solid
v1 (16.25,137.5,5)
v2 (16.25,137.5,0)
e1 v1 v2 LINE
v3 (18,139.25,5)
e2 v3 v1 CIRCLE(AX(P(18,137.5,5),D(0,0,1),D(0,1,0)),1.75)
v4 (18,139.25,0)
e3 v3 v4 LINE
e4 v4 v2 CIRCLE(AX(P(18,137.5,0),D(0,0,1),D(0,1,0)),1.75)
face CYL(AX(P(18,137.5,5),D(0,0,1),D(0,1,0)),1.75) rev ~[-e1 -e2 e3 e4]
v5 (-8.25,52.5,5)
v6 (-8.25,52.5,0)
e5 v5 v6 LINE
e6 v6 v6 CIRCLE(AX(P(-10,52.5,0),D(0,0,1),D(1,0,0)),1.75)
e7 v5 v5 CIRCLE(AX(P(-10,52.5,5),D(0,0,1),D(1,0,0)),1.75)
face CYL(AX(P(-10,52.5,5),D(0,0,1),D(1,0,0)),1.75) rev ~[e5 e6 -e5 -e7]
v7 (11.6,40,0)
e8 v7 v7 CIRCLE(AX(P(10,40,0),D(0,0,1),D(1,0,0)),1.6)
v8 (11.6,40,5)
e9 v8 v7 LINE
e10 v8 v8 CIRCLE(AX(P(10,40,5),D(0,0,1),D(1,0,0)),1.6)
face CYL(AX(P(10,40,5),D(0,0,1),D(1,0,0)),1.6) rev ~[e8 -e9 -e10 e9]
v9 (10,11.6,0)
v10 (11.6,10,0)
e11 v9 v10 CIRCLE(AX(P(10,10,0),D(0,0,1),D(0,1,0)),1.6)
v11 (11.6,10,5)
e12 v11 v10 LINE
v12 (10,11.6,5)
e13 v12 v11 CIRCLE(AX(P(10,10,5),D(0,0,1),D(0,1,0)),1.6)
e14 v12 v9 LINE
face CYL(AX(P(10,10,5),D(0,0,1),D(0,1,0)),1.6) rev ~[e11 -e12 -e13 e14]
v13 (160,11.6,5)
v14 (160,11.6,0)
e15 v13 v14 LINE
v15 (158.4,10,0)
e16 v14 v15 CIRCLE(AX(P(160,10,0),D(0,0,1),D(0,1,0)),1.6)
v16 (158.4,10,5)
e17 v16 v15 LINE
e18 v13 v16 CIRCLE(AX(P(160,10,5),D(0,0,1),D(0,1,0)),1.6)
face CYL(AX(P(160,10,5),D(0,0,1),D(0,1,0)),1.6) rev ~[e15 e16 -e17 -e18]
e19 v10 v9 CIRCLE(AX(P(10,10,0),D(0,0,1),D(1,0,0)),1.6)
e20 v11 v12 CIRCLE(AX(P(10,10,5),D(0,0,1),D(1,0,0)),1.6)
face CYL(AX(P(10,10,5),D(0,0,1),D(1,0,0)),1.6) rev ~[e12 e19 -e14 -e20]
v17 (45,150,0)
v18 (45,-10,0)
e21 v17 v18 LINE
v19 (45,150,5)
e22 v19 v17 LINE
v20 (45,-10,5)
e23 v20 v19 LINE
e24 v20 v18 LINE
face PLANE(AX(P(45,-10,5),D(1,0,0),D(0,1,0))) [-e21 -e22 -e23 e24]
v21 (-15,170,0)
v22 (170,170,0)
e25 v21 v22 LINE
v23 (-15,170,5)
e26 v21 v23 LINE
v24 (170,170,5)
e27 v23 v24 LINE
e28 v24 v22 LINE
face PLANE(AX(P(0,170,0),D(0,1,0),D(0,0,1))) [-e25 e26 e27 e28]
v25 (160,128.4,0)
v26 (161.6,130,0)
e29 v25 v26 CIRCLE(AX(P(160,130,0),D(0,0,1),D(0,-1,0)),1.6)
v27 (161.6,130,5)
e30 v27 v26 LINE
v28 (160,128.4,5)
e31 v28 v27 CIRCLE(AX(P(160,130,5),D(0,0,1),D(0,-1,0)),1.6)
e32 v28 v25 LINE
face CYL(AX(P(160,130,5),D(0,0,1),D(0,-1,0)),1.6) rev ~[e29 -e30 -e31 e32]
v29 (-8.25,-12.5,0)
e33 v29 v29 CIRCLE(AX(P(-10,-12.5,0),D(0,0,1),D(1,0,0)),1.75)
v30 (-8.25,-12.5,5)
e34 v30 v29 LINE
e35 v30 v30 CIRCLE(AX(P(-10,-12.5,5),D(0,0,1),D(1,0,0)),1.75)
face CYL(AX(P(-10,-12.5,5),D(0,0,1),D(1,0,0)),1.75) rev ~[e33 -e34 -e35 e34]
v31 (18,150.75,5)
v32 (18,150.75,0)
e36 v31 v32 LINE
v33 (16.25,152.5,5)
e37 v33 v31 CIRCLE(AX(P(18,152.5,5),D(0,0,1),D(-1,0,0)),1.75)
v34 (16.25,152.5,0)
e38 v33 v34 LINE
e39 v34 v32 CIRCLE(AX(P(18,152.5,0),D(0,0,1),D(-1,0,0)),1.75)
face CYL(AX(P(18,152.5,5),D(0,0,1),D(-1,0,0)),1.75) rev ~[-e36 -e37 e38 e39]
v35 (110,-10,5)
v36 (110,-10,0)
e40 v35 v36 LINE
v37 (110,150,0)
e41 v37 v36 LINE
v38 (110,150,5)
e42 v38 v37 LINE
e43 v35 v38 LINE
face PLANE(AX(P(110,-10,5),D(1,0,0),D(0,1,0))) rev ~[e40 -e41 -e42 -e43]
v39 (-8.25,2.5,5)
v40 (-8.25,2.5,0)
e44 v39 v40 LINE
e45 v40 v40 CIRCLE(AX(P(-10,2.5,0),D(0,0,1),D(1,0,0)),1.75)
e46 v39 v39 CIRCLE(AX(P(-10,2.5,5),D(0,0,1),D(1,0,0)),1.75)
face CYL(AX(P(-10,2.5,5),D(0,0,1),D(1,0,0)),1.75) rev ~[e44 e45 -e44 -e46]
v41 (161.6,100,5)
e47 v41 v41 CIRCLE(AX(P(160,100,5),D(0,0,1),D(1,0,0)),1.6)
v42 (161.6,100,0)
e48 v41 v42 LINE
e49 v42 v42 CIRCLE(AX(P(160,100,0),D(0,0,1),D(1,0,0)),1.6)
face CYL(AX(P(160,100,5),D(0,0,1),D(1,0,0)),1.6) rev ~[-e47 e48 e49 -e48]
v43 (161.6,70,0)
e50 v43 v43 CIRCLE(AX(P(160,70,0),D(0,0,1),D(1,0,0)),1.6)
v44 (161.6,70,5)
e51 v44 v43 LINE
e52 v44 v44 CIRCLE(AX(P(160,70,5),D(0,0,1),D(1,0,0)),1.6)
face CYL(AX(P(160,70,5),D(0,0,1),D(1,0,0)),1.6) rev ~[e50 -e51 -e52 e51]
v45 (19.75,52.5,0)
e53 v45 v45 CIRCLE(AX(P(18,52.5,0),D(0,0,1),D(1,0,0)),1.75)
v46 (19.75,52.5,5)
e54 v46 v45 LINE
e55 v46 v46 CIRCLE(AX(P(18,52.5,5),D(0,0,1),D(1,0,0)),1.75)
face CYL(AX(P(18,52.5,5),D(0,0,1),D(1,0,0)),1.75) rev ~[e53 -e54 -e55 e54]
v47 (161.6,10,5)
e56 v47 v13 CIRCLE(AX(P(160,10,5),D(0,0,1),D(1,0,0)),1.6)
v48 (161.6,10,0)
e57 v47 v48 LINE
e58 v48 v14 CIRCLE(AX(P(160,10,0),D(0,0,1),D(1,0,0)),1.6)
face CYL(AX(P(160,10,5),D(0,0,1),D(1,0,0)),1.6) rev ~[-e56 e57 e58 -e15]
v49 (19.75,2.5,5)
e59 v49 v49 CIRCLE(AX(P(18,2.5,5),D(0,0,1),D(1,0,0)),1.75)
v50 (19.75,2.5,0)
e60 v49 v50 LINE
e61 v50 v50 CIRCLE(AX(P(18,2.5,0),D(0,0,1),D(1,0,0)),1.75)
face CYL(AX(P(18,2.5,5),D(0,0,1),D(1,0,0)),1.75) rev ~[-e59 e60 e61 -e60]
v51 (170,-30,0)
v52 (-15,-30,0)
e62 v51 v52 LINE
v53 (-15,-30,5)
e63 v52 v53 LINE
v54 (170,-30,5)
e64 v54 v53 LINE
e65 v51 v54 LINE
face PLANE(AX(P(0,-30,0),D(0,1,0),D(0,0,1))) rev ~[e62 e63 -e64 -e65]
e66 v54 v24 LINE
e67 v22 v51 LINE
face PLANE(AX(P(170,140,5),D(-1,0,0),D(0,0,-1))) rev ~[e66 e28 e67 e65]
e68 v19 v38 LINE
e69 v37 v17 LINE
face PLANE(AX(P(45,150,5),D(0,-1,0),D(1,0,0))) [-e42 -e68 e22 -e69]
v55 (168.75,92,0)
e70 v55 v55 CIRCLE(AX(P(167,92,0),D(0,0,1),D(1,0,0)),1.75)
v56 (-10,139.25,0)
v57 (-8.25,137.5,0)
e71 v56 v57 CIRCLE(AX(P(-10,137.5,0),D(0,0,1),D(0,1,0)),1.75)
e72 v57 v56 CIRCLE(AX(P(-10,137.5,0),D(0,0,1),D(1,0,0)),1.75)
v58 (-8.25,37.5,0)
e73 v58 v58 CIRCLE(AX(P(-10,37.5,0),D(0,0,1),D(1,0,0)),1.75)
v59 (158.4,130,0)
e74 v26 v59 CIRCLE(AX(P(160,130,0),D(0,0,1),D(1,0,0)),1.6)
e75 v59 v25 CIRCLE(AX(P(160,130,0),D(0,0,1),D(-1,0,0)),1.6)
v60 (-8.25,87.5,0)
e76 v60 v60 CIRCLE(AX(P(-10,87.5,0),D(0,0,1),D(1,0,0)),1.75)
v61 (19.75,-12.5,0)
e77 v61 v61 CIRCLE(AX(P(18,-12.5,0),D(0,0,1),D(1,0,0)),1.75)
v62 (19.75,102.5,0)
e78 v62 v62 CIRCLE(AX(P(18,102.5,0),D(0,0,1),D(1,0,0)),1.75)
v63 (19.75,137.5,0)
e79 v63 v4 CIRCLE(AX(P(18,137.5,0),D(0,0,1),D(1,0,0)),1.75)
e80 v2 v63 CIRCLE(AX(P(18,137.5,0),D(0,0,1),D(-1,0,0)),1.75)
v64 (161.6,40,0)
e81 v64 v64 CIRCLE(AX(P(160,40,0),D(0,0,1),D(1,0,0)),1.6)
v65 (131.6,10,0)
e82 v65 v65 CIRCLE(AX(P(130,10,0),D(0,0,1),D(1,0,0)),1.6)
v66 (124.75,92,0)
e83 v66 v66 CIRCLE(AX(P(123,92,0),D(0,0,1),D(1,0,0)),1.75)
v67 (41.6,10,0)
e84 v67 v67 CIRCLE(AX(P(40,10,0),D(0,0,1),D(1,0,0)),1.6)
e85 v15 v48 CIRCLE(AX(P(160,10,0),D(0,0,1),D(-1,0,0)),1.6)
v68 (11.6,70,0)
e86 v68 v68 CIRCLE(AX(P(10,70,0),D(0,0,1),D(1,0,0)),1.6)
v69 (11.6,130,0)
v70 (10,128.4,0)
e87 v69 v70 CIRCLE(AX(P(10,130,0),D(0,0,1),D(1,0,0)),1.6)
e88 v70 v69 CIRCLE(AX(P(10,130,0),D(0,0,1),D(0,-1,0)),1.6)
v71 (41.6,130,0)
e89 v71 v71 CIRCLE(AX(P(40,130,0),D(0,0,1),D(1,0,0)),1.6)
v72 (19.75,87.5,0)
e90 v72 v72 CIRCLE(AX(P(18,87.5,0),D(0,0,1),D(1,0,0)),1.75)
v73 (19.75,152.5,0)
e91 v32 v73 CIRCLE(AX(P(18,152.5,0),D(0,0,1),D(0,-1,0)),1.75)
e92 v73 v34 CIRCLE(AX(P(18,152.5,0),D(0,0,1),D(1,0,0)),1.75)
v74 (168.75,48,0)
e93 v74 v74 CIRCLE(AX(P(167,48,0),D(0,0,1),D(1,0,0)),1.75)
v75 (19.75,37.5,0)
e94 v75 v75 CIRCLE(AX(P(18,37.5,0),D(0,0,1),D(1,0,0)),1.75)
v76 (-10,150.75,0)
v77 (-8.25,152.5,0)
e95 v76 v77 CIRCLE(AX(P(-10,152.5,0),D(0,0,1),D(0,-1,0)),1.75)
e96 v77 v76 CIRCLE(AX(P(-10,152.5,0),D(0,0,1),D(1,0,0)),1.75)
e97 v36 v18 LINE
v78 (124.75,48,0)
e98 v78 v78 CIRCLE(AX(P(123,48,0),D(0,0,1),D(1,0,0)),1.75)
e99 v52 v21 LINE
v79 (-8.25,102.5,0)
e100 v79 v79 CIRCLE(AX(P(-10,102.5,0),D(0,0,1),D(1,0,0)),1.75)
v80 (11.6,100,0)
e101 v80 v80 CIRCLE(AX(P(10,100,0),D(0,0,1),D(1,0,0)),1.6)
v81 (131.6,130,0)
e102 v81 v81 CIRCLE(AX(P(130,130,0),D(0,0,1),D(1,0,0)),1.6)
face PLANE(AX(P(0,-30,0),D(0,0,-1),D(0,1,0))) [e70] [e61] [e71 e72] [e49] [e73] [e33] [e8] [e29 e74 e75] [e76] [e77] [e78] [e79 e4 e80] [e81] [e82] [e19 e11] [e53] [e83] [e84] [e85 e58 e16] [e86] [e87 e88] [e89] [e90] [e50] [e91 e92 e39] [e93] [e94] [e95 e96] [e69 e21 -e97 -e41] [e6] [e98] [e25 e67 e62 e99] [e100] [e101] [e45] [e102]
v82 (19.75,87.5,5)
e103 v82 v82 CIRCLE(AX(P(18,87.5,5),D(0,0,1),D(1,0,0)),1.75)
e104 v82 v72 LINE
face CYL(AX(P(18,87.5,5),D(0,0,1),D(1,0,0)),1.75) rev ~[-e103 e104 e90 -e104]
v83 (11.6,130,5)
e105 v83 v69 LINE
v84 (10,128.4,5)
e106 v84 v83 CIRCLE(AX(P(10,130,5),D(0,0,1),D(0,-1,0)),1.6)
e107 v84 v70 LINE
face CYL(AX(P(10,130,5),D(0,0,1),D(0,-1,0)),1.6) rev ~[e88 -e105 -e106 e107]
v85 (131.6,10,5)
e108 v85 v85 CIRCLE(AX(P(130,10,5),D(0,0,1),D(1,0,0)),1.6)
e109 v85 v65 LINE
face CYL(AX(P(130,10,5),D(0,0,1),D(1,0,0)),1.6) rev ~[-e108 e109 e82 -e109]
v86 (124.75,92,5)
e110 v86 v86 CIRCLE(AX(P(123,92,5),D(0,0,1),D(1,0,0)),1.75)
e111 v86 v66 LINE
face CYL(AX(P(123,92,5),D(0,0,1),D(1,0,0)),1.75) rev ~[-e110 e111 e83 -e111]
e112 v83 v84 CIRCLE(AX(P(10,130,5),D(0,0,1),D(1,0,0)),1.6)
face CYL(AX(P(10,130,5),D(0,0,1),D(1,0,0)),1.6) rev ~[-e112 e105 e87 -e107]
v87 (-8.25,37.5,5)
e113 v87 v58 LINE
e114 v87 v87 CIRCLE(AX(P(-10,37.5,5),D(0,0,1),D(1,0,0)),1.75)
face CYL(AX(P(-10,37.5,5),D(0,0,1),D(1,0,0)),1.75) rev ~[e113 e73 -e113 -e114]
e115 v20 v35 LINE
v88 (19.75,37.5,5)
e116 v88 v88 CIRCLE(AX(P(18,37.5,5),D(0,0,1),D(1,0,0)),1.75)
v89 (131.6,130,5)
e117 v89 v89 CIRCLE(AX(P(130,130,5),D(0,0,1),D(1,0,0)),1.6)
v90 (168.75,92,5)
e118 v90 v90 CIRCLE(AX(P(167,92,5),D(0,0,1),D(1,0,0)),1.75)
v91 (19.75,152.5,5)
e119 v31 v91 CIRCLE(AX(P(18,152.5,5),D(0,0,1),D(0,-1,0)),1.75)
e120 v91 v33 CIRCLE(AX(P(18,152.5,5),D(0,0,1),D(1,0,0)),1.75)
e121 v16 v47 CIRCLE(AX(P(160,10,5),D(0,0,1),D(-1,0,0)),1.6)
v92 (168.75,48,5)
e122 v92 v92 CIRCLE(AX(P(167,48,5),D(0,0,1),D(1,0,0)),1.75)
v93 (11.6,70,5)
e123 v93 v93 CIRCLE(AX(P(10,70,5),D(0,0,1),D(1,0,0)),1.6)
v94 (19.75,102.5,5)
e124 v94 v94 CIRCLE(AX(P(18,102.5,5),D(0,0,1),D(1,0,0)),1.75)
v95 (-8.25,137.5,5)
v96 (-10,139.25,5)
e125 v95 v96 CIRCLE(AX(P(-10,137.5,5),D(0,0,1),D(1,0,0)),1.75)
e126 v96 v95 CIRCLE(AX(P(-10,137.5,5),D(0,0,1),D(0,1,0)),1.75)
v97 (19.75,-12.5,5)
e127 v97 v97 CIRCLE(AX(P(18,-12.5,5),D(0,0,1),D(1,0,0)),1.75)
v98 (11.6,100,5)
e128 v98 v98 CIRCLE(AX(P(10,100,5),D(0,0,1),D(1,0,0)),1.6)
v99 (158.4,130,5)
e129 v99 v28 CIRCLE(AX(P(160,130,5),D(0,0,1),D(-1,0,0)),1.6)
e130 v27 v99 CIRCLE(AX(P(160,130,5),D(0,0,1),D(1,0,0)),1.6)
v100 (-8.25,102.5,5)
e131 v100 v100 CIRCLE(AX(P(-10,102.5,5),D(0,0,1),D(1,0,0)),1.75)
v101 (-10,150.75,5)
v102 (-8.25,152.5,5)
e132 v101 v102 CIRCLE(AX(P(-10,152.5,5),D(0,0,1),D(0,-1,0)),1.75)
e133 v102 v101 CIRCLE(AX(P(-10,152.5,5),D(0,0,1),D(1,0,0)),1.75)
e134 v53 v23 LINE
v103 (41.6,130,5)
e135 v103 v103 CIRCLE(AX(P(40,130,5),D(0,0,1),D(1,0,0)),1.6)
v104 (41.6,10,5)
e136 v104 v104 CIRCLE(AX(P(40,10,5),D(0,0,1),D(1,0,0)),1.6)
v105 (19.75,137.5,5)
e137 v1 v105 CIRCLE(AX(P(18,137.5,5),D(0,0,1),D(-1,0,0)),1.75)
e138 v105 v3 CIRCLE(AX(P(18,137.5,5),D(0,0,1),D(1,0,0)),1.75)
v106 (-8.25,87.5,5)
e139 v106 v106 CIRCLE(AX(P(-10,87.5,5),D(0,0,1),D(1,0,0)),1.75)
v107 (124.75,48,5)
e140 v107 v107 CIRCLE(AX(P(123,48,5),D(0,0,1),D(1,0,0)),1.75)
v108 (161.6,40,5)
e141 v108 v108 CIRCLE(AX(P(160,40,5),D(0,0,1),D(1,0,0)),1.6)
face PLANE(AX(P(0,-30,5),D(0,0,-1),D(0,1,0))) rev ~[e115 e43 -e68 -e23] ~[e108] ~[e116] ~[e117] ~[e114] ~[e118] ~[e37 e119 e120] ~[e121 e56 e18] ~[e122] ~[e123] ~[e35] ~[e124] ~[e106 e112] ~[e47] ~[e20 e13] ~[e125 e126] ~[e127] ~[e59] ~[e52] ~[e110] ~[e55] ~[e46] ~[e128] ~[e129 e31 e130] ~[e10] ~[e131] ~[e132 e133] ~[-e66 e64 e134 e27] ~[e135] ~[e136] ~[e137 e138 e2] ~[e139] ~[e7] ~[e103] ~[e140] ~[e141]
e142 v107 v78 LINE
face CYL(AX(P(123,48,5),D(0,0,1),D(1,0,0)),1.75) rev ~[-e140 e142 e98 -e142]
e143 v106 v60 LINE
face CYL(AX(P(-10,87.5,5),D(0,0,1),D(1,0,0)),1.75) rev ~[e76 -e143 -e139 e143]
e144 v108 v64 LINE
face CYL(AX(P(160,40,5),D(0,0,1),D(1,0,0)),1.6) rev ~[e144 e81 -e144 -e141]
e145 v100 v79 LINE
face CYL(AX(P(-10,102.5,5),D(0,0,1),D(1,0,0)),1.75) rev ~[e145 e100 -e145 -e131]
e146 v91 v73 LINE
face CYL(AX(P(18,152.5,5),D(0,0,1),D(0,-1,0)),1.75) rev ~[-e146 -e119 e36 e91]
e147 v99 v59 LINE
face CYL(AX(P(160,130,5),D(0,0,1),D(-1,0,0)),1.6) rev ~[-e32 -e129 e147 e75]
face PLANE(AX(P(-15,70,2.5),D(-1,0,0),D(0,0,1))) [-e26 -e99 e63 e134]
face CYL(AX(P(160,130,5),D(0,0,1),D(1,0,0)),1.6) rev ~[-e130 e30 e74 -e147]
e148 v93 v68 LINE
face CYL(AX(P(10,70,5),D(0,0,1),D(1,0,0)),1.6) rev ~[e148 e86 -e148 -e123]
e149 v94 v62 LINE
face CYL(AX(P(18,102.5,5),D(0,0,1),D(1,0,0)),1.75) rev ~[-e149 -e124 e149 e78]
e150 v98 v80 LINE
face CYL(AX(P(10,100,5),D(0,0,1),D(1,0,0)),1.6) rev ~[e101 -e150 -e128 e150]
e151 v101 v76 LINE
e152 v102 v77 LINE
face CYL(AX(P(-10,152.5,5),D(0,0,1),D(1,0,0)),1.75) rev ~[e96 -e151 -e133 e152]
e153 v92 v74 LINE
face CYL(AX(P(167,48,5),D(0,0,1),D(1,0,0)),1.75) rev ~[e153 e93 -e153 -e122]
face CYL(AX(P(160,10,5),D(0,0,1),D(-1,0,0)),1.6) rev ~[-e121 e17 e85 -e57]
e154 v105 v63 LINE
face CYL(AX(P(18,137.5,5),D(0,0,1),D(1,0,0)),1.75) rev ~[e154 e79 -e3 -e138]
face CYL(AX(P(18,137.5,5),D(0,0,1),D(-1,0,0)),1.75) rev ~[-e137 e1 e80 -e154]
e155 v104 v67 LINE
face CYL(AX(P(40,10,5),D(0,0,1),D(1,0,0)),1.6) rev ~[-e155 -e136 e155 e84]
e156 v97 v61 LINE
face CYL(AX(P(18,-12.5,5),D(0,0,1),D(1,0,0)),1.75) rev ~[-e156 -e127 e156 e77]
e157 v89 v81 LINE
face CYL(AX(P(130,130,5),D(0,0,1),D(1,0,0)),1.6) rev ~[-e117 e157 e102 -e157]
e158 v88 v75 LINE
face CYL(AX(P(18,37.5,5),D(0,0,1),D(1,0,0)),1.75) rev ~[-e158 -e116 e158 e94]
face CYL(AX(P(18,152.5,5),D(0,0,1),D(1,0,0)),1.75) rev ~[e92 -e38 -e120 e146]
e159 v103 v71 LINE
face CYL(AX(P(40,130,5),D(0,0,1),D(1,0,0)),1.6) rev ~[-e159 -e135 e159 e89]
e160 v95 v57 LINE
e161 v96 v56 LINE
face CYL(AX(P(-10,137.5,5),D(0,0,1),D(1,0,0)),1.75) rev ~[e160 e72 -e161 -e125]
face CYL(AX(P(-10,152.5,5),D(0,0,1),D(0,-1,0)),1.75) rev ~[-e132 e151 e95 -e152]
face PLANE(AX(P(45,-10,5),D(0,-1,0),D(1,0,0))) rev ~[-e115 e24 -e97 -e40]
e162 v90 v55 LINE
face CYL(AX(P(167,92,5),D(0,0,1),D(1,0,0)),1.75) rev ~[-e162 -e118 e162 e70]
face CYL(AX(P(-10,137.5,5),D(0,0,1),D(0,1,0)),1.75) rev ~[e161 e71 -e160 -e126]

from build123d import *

# Parameters (mm, degrees)
SKETCH_1_W          = 170
SKETCH_1_H          = 140
EXTRUDE_1_DEPTH     = 5
CUT_EXTRUDE_1_DEPTH = 5
SKETCH_4_R          = 1.6
CUT_EXTRUDE_2_DEPTH = 5
SKETCH_9_W          = 170
SKETCH_9_H          = 5
EXTRUDE_2_DEPTH     = 30
SKETCH_10_W         = 170
SKETCH_10_H         = 5
EXTRUDE_3_DEPTH     = 30
SKETCH_8_W          = 65
SKETCH_8_H          = 160
CUT_EXTRUDE_5_DEPTH = 30
SKETCH_6_R          = 1.75
CUT_EXTRUDE_6_DEPTH = 30
SKETCH_13_W         = 5
SKETCH_13_H         = 200
EXTRUDE_4_DEPTH     = 15
SKETCH_14_R         = 1.75
CUT_EXTRUDE_7_DEPTH = 15


with BuildPart() as part:
    # 草图1 → 凸台-拉伸1 (new body)
    with BuildSketch(Plane.XY):
        with Locations((85, 70)):
            Rectangle(SKETCH_1_W, SKETCH_1_H)
    extrude(amount=EXTRUDE_1_DEPTH)

    # 草图3 → 切除-拉伸1 (cut)
    with BuildSketch(Plane.XY.offset(5)):
        with BuildLine():
            ThreePointArc((10, 128.4), (11.13137085, 128.86862915), (11.6, 130))
            Line((11.6, 130), (10, 130))
            Line((10, 130), (10, 128.4))
        make_face()
        with BuildLine():
            Line((10, 130), (11.6, 130))
            ThreePointArc((11.6, 130), (8.86862915, 131.13137085), (10, 128.4))
            Line((10, 128.4), (10, 130))
        make_face()
        with BuildLine():
            ThreePointArc((10, 128.4), (11.13137085, 128.86862915), (11.6, 130))
            Line((11.6, 130), (10, 130))
            Line((10, 130), (10, 128.4))
        make_face()
        with BuildLine():
            Line((10, 130), (11.6, 130))
            ThreePointArc((11.6, 130), (8.86862915, 131.13137085), (10, 128.4))
            Line((10, 128.4), (10, 130))
        make_face()
        with BuildLine():
            ThreePointArc((11.6, 10), (11.13137085, 11.13137085), (10, 11.6))
            Line((10, 11.6), (10, 10))
            Line((10, 10), (11.6, 10))
        make_face()
        with BuildLine():
            Line((10, 10), (10, 11.6))
            ThreePointArc((10, 11.6), (8.86862915, 8.86862915), (11.6, 10))
            Line((11.6, 10), (10, 10))
        make_face()
        with BuildLine():
            ThreePointArc((11.6, 10), (11.13137085, 11.13137085), (10, 11.6))
            Line((10, 11.6), (10, 10))
            Line((10, 10), (11.6, 10))
        make_face()
        with BuildLine():
            Line((10, 10), (10, 11.6))
            ThreePointArc((10, 11.6), (8.86862915, 8.86862915), (11.6, 10))
            Line((11.6, 10), (10, 10))
        make_face()
        with BuildLine():
            ThreePointArc((161.6, 10), (161.13137085, 11.13137085), (160, 11.6))
            Line((160, 11.6), (160, 10))
            Line((160, 10), (158.4, 10))
            ThreePointArc((158.4, 10), (160, 8.4), (161.6, 10))
        make_face()
        with BuildLine():
            Line((160, 10), (160, 11.6))
            ThreePointArc((160, 11.6), (158.86862915, 11.13137085), (158.4, 10))
            Line((158.4, 10), (160, 10))
        make_face()
        with BuildLine():
            ThreePointArc((161.6, 10), (161.13137085, 11.13137085), (160, 11.6))
            Line((160, 11.6), (160, 10))
            Line((160, 10), (158.4, 10))
            ThreePointArc((158.4, 10), (160, 8.4), (161.6, 10))
        make_face()
        with BuildLine():
            Line((160, 10), (160, 11.6))
            ThreePointArc((160, 11.6), (158.86862915, 11.13137085), (158.4, 10))
            Line((158.4, 10), (160, 10))
        make_face()
        with BuildLine():
            ThreePointArc((161.6, 130), (160, 131.6), (158.4, 130))
            Line((158.4, 130), (160, 130))
            Line((160, 130), (160, 128.4))
            ThreePointArc((160, 128.4), (161.13137085, 128.86862915), (161.6, 130))
        make_face()
        with BuildLine():
            Line((160, 130), (158.4, 130))
            ThreePointArc((158.4, 130), (158.86862915, 128.86862915), (160, 128.4))
            Line((160, 128.4), (160, 130))
        make_face()
        with BuildLine():
            ThreePointArc((161.6, 130), (160, 131.6), (158.4, 130))
            Line((158.4, 130), (160, 130))
            Line((160, 130), (160, 128.4))
            ThreePointArc((160, 128.4), (161.13137085, 128.86862915), (161.6, 130))
        make_face()
        with BuildLine():
            Line((160, 130), (158.4, 130))
            ThreePointArc((158.4, 130), (158.86862915, 128.86862915), (160, 128.4))
            Line((160, 128.4), (160, 130))
        make_face()
    extrude(amount=-CUT_EXTRUDE_1_DEPTH, mode=Mode.SUBTRACT)

    # 草图4 → 切除-拉伸2 (cut)
    with BuildSketch(Plane.XY.offset(5)):
        with Locations((10, 130)):
            Circle(SKETCH_4_R)
        with Locations((40, 130)):
            Circle(SKETCH_4_R)
        with Locations((70, 130)):
            Circle(SKETCH_4_R)
        with Locations((100, 130)):
            Circle(SKETCH_4_R)
        with Locations((130, 130)):
            Circle(SKETCH_4_R)
        with Locations((10, 10)):
            Circle(SKETCH_4_R)
        with Locations((40, 10)):
            Circle(SKETCH_4_R)
        with Locations((70, 10)):
            Circle(SKETCH_4_R)
        with Locations((100, 10)):
            Circle(SKETCH_4_R)
        with Locations((130, 10)):
            Circle(SKETCH_4_R)
        with Locations((160, 130)):
            Circle(SKETCH_4_R)
        with Locations((10, 100)):
            Circle(SKETCH_4_R)
        with Locations((160, 100)):
            Circle(SKETCH_4_R)
        with Locations((10, 70)):
            Circle(SKETCH_4_R)
        with Locations((160, 70)):
            Circle(SKETCH_4_R)
        with Locations((10, 40)):
            Circle(SKETCH_4_R)
        with Locations((160, 40)):
            Circle(SKETCH_4_R)
    extrude(amount=-CUT_EXTRUDE_2_DEPTH, mode=Mode.SUBTRACT)

    # 草图9 → 凸台-拉伸2 (add)
    with BuildSketch(Plane.XZ):
        with Locations((85, 2.5)):
            Rectangle(SKETCH_9_W, SKETCH_9_H)
    extrude(amount=EXTRUDE_2_DEPTH)

    # 草图10 → 凸台-拉伸3 (add)
    with BuildSketch(Plane(origin=(0, 140, 0), x_dir=(1, 0, 0), z_dir=(0, 1, 0))):
        with Locations((85, -2.5)):
            Rectangle(SKETCH_10_W, SKETCH_10_H)
    extrude(amount=EXTRUDE_3_DEPTH)

    # 草图8 → 切除-拉伸5 (cut)
    with BuildSketch(Plane.XY.offset(5)):
        with Locations((77.5, 70)):
            Rectangle(SKETCH_8_W, SKETCH_8_H)
    extrude(amount=-CUT_EXTRUDE_5_DEPTH, mode=Mode.SUBTRACT)

    # 草图6 → 切除-拉伸6 (cut)
    with BuildSketch(Plane.XY.offset(5)):
        with Locations((123, 92)):
            Circle(SKETCH_6_R)
        with Locations((167, 92)):
            Circle(SKETCH_6_R)
        with Locations((123, 48)):
            Circle(SKETCH_6_R)
        with Locations((167, 48)):
            Circle(SKETCH_6_R)
    extrude(amount=-CUT_EXTRUDE_6_DEPTH, mode=Mode.SUBTRACT)

    # 草图13 → 凸台-拉伸4 (add)
    with BuildSketch(Plane.ZY):
        with Locations((2.5, 70)):
            Rectangle(SKETCH_13_W, SKETCH_13_H)
    extrude(amount=EXTRUDE_4_DEPTH)

    # 草图14 → 切除-拉伸7 (cut)
    with BuildSketch(Plane.XY.offset(5)):
        with BuildLine():
            ThreePointArc((-8.25, 152.5), (-11.237436867, 153.737436867), (-10, 150.75))
            Line((-10, 150.75), (-10, 152.5))
            Line((-10, 152.5), (-8.25, 152.5))
        make_face()
        with BuildLine():
            Line((-10, 152.5), (-10, 150.75))
            ThreePointArc((-10, 150.75), (-8.762563133, 151.262563133), (-8.25, 152.5))
            Line((-8.25, 152.5), (-10, 152.5))
        make_face()
        with BuildLine():
            ThreePointArc((-8.25, 152.5), (-11.237436867, 153.737436867), (-10, 150.75))
            Line((-10, 150.75), (-10, 152.5))
            Line((-10, 152.5), (-8.25, 152.5))
        make_face()
        with BuildLine():
            Line((-10, 152.5), (-10, 150.75))
            ThreePointArc((-10, 150.75), (-8.762563133, 151.262563133), (-8.25, 152.5))
            Line((-8.25, 152.5), (-10, 152.5))
        make_face()
        with BuildLine():
            Line((-10, 139.25), (-10, 137.5))
            Line((-10, 137.5), (-8.25, 137.5))
            ThreePointArc((-8.25, 137.5), (-8.762563133, 138.737436867), (-10, 139.25))
        make_face()
        with BuildLine():
            Line((-8.25, 137.5), (-10, 137.5))
            Line((-10, 137.5), (-10, 139.25))
            ThreePointArc((-10, 139.25), (-11.237436867, 136.262563133), (-8.25, 137.5))
        make_face()
        with BuildLine():
            Line((-10, 139.25), (-10, 137.5))
            Line((-10, 137.5), (-8.25, 137.5))
            ThreePointArc((-8.25, 137.5), (-8.762563133, 138.737436867), (-10, 139.25))
        make_face()
        with BuildLine():
            Line((-8.25, 137.5), (-10, 137.5))
            Line((-10, 137.5), (-10, 139.25))
            ThreePointArc((-10, 139.25), (-11.237436867, 136.262563133), (-8.25, 137.5))
        make_face()
        with BuildLine():
            ThreePointArc((18, 139.25), (16.762563133, 138.737436867), (16.25, 137.5))
            Line((16.25, 137.5), (18, 137.5))
            Line((18, 137.5), (18, 139.25))
        make_face()
        with BuildLine():
            Line((18, 137.5), (16.25, 137.5))
            ThreePointArc((16.25, 137.5), (18, 135.75), (19.75, 137.5))
            ThreePointArc((19.75, 137.5), (19.237436867, 138.737436867), (18, 139.25))
            Line((18, 139.25), (18, 137.5))
        make_face()
        with BuildLine():
            ThreePointArc((18, 139.25), (16.762563133, 138.737436867), (16.25, 137.5))
            Line((16.25, 137.5), (18, 137.5))
            Line((18, 137.5), (18, 139.25))
        make_face()
        with BuildLine():
            Line((18, 137.5), (16.25, 137.5))
            ThreePointArc((16.25, 137.5), (18, 135.75), (19.75, 137.5))
            ThreePointArc((19.75, 137.5), (19.237436867, 138.737436867), (18, 139.25))
            Line((18, 139.25), (18, 137.5))
        make_face()
        with BuildLine():
            ThreePointArc((16.25, 152.5), (16.762563133, 151.262563133), (18, 150.75))
            Line((18, 150.75), (18, 152.5))
            Line((18, 152.5), (16.25, 152.5))
        make_face()
        with BuildLine():
            Line((18, 152.5), (18, 150.75))
            ThreePointArc((18, 150.75), (19.237436867, 151.262563133), (19.75, 152.5))
            ThreePointArc((19.75, 152.5), (18, 154.25), (16.25, 152.5))
            Line((16.25, 152.5), (18, 152.5))
        make_face()
        with BuildLine():
            ThreePointArc((16.25, 152.5), (16.762563133, 151.262563133), (18, 150.75))
            Line((18, 150.75), (18, 152.5))
            Line((18, 152.5), (16.25, 152.5))
        make_face()
        with BuildLine():
            Line((18, 152.5), (18, 150.75))
            ThreePointArc((18, 150.75), (19.237436867, 151.262563133), (19.75, 152.5))
            ThreePointArc((19.75, 152.5), (18, 154.25), (16.25, 152.5))
            Line((16.25, 152.5), (18, 152.5))
        make_face()
        with Locations((-10, 102.5)):
            Circle(SKETCH_14_R)
        with Locations((18, 102.5)):
            Circle(SKETCH_14_R)
        with Locations((-10, 87.5)):
            Circle(SKETCH_14_R)
        with Locations((18, 87.5)):
            Circle(SKETCH_14_R)
        with Locations((-10, 52.5)):
            Circle(SKETCH_14_R)
        with Locations((18, 52.5)):
            Circle(SKETCH_14_R)
        with Locations((-10, 37.5)):
            Circle(SKETCH_14_R)
        with Locations((18, 37.5)):
            Circle(SKETCH_14_R)
        with Locations((-10, 2.5)):
            Circle(SKETCH_14_R)
        with Locations((18, 2.5)):
            Circle(SKETCH_14_R)
        with Locations((-10, -12.5)):
            Circle(SKETCH_14_R)
        with Locations((18, -12.5)):
            Circle(SKETCH_14_R)
    extrude(amount=-CUT_EXTRUDE_7_DEPTH, mode=Mode.SUBTRACT)


solid = part.part
